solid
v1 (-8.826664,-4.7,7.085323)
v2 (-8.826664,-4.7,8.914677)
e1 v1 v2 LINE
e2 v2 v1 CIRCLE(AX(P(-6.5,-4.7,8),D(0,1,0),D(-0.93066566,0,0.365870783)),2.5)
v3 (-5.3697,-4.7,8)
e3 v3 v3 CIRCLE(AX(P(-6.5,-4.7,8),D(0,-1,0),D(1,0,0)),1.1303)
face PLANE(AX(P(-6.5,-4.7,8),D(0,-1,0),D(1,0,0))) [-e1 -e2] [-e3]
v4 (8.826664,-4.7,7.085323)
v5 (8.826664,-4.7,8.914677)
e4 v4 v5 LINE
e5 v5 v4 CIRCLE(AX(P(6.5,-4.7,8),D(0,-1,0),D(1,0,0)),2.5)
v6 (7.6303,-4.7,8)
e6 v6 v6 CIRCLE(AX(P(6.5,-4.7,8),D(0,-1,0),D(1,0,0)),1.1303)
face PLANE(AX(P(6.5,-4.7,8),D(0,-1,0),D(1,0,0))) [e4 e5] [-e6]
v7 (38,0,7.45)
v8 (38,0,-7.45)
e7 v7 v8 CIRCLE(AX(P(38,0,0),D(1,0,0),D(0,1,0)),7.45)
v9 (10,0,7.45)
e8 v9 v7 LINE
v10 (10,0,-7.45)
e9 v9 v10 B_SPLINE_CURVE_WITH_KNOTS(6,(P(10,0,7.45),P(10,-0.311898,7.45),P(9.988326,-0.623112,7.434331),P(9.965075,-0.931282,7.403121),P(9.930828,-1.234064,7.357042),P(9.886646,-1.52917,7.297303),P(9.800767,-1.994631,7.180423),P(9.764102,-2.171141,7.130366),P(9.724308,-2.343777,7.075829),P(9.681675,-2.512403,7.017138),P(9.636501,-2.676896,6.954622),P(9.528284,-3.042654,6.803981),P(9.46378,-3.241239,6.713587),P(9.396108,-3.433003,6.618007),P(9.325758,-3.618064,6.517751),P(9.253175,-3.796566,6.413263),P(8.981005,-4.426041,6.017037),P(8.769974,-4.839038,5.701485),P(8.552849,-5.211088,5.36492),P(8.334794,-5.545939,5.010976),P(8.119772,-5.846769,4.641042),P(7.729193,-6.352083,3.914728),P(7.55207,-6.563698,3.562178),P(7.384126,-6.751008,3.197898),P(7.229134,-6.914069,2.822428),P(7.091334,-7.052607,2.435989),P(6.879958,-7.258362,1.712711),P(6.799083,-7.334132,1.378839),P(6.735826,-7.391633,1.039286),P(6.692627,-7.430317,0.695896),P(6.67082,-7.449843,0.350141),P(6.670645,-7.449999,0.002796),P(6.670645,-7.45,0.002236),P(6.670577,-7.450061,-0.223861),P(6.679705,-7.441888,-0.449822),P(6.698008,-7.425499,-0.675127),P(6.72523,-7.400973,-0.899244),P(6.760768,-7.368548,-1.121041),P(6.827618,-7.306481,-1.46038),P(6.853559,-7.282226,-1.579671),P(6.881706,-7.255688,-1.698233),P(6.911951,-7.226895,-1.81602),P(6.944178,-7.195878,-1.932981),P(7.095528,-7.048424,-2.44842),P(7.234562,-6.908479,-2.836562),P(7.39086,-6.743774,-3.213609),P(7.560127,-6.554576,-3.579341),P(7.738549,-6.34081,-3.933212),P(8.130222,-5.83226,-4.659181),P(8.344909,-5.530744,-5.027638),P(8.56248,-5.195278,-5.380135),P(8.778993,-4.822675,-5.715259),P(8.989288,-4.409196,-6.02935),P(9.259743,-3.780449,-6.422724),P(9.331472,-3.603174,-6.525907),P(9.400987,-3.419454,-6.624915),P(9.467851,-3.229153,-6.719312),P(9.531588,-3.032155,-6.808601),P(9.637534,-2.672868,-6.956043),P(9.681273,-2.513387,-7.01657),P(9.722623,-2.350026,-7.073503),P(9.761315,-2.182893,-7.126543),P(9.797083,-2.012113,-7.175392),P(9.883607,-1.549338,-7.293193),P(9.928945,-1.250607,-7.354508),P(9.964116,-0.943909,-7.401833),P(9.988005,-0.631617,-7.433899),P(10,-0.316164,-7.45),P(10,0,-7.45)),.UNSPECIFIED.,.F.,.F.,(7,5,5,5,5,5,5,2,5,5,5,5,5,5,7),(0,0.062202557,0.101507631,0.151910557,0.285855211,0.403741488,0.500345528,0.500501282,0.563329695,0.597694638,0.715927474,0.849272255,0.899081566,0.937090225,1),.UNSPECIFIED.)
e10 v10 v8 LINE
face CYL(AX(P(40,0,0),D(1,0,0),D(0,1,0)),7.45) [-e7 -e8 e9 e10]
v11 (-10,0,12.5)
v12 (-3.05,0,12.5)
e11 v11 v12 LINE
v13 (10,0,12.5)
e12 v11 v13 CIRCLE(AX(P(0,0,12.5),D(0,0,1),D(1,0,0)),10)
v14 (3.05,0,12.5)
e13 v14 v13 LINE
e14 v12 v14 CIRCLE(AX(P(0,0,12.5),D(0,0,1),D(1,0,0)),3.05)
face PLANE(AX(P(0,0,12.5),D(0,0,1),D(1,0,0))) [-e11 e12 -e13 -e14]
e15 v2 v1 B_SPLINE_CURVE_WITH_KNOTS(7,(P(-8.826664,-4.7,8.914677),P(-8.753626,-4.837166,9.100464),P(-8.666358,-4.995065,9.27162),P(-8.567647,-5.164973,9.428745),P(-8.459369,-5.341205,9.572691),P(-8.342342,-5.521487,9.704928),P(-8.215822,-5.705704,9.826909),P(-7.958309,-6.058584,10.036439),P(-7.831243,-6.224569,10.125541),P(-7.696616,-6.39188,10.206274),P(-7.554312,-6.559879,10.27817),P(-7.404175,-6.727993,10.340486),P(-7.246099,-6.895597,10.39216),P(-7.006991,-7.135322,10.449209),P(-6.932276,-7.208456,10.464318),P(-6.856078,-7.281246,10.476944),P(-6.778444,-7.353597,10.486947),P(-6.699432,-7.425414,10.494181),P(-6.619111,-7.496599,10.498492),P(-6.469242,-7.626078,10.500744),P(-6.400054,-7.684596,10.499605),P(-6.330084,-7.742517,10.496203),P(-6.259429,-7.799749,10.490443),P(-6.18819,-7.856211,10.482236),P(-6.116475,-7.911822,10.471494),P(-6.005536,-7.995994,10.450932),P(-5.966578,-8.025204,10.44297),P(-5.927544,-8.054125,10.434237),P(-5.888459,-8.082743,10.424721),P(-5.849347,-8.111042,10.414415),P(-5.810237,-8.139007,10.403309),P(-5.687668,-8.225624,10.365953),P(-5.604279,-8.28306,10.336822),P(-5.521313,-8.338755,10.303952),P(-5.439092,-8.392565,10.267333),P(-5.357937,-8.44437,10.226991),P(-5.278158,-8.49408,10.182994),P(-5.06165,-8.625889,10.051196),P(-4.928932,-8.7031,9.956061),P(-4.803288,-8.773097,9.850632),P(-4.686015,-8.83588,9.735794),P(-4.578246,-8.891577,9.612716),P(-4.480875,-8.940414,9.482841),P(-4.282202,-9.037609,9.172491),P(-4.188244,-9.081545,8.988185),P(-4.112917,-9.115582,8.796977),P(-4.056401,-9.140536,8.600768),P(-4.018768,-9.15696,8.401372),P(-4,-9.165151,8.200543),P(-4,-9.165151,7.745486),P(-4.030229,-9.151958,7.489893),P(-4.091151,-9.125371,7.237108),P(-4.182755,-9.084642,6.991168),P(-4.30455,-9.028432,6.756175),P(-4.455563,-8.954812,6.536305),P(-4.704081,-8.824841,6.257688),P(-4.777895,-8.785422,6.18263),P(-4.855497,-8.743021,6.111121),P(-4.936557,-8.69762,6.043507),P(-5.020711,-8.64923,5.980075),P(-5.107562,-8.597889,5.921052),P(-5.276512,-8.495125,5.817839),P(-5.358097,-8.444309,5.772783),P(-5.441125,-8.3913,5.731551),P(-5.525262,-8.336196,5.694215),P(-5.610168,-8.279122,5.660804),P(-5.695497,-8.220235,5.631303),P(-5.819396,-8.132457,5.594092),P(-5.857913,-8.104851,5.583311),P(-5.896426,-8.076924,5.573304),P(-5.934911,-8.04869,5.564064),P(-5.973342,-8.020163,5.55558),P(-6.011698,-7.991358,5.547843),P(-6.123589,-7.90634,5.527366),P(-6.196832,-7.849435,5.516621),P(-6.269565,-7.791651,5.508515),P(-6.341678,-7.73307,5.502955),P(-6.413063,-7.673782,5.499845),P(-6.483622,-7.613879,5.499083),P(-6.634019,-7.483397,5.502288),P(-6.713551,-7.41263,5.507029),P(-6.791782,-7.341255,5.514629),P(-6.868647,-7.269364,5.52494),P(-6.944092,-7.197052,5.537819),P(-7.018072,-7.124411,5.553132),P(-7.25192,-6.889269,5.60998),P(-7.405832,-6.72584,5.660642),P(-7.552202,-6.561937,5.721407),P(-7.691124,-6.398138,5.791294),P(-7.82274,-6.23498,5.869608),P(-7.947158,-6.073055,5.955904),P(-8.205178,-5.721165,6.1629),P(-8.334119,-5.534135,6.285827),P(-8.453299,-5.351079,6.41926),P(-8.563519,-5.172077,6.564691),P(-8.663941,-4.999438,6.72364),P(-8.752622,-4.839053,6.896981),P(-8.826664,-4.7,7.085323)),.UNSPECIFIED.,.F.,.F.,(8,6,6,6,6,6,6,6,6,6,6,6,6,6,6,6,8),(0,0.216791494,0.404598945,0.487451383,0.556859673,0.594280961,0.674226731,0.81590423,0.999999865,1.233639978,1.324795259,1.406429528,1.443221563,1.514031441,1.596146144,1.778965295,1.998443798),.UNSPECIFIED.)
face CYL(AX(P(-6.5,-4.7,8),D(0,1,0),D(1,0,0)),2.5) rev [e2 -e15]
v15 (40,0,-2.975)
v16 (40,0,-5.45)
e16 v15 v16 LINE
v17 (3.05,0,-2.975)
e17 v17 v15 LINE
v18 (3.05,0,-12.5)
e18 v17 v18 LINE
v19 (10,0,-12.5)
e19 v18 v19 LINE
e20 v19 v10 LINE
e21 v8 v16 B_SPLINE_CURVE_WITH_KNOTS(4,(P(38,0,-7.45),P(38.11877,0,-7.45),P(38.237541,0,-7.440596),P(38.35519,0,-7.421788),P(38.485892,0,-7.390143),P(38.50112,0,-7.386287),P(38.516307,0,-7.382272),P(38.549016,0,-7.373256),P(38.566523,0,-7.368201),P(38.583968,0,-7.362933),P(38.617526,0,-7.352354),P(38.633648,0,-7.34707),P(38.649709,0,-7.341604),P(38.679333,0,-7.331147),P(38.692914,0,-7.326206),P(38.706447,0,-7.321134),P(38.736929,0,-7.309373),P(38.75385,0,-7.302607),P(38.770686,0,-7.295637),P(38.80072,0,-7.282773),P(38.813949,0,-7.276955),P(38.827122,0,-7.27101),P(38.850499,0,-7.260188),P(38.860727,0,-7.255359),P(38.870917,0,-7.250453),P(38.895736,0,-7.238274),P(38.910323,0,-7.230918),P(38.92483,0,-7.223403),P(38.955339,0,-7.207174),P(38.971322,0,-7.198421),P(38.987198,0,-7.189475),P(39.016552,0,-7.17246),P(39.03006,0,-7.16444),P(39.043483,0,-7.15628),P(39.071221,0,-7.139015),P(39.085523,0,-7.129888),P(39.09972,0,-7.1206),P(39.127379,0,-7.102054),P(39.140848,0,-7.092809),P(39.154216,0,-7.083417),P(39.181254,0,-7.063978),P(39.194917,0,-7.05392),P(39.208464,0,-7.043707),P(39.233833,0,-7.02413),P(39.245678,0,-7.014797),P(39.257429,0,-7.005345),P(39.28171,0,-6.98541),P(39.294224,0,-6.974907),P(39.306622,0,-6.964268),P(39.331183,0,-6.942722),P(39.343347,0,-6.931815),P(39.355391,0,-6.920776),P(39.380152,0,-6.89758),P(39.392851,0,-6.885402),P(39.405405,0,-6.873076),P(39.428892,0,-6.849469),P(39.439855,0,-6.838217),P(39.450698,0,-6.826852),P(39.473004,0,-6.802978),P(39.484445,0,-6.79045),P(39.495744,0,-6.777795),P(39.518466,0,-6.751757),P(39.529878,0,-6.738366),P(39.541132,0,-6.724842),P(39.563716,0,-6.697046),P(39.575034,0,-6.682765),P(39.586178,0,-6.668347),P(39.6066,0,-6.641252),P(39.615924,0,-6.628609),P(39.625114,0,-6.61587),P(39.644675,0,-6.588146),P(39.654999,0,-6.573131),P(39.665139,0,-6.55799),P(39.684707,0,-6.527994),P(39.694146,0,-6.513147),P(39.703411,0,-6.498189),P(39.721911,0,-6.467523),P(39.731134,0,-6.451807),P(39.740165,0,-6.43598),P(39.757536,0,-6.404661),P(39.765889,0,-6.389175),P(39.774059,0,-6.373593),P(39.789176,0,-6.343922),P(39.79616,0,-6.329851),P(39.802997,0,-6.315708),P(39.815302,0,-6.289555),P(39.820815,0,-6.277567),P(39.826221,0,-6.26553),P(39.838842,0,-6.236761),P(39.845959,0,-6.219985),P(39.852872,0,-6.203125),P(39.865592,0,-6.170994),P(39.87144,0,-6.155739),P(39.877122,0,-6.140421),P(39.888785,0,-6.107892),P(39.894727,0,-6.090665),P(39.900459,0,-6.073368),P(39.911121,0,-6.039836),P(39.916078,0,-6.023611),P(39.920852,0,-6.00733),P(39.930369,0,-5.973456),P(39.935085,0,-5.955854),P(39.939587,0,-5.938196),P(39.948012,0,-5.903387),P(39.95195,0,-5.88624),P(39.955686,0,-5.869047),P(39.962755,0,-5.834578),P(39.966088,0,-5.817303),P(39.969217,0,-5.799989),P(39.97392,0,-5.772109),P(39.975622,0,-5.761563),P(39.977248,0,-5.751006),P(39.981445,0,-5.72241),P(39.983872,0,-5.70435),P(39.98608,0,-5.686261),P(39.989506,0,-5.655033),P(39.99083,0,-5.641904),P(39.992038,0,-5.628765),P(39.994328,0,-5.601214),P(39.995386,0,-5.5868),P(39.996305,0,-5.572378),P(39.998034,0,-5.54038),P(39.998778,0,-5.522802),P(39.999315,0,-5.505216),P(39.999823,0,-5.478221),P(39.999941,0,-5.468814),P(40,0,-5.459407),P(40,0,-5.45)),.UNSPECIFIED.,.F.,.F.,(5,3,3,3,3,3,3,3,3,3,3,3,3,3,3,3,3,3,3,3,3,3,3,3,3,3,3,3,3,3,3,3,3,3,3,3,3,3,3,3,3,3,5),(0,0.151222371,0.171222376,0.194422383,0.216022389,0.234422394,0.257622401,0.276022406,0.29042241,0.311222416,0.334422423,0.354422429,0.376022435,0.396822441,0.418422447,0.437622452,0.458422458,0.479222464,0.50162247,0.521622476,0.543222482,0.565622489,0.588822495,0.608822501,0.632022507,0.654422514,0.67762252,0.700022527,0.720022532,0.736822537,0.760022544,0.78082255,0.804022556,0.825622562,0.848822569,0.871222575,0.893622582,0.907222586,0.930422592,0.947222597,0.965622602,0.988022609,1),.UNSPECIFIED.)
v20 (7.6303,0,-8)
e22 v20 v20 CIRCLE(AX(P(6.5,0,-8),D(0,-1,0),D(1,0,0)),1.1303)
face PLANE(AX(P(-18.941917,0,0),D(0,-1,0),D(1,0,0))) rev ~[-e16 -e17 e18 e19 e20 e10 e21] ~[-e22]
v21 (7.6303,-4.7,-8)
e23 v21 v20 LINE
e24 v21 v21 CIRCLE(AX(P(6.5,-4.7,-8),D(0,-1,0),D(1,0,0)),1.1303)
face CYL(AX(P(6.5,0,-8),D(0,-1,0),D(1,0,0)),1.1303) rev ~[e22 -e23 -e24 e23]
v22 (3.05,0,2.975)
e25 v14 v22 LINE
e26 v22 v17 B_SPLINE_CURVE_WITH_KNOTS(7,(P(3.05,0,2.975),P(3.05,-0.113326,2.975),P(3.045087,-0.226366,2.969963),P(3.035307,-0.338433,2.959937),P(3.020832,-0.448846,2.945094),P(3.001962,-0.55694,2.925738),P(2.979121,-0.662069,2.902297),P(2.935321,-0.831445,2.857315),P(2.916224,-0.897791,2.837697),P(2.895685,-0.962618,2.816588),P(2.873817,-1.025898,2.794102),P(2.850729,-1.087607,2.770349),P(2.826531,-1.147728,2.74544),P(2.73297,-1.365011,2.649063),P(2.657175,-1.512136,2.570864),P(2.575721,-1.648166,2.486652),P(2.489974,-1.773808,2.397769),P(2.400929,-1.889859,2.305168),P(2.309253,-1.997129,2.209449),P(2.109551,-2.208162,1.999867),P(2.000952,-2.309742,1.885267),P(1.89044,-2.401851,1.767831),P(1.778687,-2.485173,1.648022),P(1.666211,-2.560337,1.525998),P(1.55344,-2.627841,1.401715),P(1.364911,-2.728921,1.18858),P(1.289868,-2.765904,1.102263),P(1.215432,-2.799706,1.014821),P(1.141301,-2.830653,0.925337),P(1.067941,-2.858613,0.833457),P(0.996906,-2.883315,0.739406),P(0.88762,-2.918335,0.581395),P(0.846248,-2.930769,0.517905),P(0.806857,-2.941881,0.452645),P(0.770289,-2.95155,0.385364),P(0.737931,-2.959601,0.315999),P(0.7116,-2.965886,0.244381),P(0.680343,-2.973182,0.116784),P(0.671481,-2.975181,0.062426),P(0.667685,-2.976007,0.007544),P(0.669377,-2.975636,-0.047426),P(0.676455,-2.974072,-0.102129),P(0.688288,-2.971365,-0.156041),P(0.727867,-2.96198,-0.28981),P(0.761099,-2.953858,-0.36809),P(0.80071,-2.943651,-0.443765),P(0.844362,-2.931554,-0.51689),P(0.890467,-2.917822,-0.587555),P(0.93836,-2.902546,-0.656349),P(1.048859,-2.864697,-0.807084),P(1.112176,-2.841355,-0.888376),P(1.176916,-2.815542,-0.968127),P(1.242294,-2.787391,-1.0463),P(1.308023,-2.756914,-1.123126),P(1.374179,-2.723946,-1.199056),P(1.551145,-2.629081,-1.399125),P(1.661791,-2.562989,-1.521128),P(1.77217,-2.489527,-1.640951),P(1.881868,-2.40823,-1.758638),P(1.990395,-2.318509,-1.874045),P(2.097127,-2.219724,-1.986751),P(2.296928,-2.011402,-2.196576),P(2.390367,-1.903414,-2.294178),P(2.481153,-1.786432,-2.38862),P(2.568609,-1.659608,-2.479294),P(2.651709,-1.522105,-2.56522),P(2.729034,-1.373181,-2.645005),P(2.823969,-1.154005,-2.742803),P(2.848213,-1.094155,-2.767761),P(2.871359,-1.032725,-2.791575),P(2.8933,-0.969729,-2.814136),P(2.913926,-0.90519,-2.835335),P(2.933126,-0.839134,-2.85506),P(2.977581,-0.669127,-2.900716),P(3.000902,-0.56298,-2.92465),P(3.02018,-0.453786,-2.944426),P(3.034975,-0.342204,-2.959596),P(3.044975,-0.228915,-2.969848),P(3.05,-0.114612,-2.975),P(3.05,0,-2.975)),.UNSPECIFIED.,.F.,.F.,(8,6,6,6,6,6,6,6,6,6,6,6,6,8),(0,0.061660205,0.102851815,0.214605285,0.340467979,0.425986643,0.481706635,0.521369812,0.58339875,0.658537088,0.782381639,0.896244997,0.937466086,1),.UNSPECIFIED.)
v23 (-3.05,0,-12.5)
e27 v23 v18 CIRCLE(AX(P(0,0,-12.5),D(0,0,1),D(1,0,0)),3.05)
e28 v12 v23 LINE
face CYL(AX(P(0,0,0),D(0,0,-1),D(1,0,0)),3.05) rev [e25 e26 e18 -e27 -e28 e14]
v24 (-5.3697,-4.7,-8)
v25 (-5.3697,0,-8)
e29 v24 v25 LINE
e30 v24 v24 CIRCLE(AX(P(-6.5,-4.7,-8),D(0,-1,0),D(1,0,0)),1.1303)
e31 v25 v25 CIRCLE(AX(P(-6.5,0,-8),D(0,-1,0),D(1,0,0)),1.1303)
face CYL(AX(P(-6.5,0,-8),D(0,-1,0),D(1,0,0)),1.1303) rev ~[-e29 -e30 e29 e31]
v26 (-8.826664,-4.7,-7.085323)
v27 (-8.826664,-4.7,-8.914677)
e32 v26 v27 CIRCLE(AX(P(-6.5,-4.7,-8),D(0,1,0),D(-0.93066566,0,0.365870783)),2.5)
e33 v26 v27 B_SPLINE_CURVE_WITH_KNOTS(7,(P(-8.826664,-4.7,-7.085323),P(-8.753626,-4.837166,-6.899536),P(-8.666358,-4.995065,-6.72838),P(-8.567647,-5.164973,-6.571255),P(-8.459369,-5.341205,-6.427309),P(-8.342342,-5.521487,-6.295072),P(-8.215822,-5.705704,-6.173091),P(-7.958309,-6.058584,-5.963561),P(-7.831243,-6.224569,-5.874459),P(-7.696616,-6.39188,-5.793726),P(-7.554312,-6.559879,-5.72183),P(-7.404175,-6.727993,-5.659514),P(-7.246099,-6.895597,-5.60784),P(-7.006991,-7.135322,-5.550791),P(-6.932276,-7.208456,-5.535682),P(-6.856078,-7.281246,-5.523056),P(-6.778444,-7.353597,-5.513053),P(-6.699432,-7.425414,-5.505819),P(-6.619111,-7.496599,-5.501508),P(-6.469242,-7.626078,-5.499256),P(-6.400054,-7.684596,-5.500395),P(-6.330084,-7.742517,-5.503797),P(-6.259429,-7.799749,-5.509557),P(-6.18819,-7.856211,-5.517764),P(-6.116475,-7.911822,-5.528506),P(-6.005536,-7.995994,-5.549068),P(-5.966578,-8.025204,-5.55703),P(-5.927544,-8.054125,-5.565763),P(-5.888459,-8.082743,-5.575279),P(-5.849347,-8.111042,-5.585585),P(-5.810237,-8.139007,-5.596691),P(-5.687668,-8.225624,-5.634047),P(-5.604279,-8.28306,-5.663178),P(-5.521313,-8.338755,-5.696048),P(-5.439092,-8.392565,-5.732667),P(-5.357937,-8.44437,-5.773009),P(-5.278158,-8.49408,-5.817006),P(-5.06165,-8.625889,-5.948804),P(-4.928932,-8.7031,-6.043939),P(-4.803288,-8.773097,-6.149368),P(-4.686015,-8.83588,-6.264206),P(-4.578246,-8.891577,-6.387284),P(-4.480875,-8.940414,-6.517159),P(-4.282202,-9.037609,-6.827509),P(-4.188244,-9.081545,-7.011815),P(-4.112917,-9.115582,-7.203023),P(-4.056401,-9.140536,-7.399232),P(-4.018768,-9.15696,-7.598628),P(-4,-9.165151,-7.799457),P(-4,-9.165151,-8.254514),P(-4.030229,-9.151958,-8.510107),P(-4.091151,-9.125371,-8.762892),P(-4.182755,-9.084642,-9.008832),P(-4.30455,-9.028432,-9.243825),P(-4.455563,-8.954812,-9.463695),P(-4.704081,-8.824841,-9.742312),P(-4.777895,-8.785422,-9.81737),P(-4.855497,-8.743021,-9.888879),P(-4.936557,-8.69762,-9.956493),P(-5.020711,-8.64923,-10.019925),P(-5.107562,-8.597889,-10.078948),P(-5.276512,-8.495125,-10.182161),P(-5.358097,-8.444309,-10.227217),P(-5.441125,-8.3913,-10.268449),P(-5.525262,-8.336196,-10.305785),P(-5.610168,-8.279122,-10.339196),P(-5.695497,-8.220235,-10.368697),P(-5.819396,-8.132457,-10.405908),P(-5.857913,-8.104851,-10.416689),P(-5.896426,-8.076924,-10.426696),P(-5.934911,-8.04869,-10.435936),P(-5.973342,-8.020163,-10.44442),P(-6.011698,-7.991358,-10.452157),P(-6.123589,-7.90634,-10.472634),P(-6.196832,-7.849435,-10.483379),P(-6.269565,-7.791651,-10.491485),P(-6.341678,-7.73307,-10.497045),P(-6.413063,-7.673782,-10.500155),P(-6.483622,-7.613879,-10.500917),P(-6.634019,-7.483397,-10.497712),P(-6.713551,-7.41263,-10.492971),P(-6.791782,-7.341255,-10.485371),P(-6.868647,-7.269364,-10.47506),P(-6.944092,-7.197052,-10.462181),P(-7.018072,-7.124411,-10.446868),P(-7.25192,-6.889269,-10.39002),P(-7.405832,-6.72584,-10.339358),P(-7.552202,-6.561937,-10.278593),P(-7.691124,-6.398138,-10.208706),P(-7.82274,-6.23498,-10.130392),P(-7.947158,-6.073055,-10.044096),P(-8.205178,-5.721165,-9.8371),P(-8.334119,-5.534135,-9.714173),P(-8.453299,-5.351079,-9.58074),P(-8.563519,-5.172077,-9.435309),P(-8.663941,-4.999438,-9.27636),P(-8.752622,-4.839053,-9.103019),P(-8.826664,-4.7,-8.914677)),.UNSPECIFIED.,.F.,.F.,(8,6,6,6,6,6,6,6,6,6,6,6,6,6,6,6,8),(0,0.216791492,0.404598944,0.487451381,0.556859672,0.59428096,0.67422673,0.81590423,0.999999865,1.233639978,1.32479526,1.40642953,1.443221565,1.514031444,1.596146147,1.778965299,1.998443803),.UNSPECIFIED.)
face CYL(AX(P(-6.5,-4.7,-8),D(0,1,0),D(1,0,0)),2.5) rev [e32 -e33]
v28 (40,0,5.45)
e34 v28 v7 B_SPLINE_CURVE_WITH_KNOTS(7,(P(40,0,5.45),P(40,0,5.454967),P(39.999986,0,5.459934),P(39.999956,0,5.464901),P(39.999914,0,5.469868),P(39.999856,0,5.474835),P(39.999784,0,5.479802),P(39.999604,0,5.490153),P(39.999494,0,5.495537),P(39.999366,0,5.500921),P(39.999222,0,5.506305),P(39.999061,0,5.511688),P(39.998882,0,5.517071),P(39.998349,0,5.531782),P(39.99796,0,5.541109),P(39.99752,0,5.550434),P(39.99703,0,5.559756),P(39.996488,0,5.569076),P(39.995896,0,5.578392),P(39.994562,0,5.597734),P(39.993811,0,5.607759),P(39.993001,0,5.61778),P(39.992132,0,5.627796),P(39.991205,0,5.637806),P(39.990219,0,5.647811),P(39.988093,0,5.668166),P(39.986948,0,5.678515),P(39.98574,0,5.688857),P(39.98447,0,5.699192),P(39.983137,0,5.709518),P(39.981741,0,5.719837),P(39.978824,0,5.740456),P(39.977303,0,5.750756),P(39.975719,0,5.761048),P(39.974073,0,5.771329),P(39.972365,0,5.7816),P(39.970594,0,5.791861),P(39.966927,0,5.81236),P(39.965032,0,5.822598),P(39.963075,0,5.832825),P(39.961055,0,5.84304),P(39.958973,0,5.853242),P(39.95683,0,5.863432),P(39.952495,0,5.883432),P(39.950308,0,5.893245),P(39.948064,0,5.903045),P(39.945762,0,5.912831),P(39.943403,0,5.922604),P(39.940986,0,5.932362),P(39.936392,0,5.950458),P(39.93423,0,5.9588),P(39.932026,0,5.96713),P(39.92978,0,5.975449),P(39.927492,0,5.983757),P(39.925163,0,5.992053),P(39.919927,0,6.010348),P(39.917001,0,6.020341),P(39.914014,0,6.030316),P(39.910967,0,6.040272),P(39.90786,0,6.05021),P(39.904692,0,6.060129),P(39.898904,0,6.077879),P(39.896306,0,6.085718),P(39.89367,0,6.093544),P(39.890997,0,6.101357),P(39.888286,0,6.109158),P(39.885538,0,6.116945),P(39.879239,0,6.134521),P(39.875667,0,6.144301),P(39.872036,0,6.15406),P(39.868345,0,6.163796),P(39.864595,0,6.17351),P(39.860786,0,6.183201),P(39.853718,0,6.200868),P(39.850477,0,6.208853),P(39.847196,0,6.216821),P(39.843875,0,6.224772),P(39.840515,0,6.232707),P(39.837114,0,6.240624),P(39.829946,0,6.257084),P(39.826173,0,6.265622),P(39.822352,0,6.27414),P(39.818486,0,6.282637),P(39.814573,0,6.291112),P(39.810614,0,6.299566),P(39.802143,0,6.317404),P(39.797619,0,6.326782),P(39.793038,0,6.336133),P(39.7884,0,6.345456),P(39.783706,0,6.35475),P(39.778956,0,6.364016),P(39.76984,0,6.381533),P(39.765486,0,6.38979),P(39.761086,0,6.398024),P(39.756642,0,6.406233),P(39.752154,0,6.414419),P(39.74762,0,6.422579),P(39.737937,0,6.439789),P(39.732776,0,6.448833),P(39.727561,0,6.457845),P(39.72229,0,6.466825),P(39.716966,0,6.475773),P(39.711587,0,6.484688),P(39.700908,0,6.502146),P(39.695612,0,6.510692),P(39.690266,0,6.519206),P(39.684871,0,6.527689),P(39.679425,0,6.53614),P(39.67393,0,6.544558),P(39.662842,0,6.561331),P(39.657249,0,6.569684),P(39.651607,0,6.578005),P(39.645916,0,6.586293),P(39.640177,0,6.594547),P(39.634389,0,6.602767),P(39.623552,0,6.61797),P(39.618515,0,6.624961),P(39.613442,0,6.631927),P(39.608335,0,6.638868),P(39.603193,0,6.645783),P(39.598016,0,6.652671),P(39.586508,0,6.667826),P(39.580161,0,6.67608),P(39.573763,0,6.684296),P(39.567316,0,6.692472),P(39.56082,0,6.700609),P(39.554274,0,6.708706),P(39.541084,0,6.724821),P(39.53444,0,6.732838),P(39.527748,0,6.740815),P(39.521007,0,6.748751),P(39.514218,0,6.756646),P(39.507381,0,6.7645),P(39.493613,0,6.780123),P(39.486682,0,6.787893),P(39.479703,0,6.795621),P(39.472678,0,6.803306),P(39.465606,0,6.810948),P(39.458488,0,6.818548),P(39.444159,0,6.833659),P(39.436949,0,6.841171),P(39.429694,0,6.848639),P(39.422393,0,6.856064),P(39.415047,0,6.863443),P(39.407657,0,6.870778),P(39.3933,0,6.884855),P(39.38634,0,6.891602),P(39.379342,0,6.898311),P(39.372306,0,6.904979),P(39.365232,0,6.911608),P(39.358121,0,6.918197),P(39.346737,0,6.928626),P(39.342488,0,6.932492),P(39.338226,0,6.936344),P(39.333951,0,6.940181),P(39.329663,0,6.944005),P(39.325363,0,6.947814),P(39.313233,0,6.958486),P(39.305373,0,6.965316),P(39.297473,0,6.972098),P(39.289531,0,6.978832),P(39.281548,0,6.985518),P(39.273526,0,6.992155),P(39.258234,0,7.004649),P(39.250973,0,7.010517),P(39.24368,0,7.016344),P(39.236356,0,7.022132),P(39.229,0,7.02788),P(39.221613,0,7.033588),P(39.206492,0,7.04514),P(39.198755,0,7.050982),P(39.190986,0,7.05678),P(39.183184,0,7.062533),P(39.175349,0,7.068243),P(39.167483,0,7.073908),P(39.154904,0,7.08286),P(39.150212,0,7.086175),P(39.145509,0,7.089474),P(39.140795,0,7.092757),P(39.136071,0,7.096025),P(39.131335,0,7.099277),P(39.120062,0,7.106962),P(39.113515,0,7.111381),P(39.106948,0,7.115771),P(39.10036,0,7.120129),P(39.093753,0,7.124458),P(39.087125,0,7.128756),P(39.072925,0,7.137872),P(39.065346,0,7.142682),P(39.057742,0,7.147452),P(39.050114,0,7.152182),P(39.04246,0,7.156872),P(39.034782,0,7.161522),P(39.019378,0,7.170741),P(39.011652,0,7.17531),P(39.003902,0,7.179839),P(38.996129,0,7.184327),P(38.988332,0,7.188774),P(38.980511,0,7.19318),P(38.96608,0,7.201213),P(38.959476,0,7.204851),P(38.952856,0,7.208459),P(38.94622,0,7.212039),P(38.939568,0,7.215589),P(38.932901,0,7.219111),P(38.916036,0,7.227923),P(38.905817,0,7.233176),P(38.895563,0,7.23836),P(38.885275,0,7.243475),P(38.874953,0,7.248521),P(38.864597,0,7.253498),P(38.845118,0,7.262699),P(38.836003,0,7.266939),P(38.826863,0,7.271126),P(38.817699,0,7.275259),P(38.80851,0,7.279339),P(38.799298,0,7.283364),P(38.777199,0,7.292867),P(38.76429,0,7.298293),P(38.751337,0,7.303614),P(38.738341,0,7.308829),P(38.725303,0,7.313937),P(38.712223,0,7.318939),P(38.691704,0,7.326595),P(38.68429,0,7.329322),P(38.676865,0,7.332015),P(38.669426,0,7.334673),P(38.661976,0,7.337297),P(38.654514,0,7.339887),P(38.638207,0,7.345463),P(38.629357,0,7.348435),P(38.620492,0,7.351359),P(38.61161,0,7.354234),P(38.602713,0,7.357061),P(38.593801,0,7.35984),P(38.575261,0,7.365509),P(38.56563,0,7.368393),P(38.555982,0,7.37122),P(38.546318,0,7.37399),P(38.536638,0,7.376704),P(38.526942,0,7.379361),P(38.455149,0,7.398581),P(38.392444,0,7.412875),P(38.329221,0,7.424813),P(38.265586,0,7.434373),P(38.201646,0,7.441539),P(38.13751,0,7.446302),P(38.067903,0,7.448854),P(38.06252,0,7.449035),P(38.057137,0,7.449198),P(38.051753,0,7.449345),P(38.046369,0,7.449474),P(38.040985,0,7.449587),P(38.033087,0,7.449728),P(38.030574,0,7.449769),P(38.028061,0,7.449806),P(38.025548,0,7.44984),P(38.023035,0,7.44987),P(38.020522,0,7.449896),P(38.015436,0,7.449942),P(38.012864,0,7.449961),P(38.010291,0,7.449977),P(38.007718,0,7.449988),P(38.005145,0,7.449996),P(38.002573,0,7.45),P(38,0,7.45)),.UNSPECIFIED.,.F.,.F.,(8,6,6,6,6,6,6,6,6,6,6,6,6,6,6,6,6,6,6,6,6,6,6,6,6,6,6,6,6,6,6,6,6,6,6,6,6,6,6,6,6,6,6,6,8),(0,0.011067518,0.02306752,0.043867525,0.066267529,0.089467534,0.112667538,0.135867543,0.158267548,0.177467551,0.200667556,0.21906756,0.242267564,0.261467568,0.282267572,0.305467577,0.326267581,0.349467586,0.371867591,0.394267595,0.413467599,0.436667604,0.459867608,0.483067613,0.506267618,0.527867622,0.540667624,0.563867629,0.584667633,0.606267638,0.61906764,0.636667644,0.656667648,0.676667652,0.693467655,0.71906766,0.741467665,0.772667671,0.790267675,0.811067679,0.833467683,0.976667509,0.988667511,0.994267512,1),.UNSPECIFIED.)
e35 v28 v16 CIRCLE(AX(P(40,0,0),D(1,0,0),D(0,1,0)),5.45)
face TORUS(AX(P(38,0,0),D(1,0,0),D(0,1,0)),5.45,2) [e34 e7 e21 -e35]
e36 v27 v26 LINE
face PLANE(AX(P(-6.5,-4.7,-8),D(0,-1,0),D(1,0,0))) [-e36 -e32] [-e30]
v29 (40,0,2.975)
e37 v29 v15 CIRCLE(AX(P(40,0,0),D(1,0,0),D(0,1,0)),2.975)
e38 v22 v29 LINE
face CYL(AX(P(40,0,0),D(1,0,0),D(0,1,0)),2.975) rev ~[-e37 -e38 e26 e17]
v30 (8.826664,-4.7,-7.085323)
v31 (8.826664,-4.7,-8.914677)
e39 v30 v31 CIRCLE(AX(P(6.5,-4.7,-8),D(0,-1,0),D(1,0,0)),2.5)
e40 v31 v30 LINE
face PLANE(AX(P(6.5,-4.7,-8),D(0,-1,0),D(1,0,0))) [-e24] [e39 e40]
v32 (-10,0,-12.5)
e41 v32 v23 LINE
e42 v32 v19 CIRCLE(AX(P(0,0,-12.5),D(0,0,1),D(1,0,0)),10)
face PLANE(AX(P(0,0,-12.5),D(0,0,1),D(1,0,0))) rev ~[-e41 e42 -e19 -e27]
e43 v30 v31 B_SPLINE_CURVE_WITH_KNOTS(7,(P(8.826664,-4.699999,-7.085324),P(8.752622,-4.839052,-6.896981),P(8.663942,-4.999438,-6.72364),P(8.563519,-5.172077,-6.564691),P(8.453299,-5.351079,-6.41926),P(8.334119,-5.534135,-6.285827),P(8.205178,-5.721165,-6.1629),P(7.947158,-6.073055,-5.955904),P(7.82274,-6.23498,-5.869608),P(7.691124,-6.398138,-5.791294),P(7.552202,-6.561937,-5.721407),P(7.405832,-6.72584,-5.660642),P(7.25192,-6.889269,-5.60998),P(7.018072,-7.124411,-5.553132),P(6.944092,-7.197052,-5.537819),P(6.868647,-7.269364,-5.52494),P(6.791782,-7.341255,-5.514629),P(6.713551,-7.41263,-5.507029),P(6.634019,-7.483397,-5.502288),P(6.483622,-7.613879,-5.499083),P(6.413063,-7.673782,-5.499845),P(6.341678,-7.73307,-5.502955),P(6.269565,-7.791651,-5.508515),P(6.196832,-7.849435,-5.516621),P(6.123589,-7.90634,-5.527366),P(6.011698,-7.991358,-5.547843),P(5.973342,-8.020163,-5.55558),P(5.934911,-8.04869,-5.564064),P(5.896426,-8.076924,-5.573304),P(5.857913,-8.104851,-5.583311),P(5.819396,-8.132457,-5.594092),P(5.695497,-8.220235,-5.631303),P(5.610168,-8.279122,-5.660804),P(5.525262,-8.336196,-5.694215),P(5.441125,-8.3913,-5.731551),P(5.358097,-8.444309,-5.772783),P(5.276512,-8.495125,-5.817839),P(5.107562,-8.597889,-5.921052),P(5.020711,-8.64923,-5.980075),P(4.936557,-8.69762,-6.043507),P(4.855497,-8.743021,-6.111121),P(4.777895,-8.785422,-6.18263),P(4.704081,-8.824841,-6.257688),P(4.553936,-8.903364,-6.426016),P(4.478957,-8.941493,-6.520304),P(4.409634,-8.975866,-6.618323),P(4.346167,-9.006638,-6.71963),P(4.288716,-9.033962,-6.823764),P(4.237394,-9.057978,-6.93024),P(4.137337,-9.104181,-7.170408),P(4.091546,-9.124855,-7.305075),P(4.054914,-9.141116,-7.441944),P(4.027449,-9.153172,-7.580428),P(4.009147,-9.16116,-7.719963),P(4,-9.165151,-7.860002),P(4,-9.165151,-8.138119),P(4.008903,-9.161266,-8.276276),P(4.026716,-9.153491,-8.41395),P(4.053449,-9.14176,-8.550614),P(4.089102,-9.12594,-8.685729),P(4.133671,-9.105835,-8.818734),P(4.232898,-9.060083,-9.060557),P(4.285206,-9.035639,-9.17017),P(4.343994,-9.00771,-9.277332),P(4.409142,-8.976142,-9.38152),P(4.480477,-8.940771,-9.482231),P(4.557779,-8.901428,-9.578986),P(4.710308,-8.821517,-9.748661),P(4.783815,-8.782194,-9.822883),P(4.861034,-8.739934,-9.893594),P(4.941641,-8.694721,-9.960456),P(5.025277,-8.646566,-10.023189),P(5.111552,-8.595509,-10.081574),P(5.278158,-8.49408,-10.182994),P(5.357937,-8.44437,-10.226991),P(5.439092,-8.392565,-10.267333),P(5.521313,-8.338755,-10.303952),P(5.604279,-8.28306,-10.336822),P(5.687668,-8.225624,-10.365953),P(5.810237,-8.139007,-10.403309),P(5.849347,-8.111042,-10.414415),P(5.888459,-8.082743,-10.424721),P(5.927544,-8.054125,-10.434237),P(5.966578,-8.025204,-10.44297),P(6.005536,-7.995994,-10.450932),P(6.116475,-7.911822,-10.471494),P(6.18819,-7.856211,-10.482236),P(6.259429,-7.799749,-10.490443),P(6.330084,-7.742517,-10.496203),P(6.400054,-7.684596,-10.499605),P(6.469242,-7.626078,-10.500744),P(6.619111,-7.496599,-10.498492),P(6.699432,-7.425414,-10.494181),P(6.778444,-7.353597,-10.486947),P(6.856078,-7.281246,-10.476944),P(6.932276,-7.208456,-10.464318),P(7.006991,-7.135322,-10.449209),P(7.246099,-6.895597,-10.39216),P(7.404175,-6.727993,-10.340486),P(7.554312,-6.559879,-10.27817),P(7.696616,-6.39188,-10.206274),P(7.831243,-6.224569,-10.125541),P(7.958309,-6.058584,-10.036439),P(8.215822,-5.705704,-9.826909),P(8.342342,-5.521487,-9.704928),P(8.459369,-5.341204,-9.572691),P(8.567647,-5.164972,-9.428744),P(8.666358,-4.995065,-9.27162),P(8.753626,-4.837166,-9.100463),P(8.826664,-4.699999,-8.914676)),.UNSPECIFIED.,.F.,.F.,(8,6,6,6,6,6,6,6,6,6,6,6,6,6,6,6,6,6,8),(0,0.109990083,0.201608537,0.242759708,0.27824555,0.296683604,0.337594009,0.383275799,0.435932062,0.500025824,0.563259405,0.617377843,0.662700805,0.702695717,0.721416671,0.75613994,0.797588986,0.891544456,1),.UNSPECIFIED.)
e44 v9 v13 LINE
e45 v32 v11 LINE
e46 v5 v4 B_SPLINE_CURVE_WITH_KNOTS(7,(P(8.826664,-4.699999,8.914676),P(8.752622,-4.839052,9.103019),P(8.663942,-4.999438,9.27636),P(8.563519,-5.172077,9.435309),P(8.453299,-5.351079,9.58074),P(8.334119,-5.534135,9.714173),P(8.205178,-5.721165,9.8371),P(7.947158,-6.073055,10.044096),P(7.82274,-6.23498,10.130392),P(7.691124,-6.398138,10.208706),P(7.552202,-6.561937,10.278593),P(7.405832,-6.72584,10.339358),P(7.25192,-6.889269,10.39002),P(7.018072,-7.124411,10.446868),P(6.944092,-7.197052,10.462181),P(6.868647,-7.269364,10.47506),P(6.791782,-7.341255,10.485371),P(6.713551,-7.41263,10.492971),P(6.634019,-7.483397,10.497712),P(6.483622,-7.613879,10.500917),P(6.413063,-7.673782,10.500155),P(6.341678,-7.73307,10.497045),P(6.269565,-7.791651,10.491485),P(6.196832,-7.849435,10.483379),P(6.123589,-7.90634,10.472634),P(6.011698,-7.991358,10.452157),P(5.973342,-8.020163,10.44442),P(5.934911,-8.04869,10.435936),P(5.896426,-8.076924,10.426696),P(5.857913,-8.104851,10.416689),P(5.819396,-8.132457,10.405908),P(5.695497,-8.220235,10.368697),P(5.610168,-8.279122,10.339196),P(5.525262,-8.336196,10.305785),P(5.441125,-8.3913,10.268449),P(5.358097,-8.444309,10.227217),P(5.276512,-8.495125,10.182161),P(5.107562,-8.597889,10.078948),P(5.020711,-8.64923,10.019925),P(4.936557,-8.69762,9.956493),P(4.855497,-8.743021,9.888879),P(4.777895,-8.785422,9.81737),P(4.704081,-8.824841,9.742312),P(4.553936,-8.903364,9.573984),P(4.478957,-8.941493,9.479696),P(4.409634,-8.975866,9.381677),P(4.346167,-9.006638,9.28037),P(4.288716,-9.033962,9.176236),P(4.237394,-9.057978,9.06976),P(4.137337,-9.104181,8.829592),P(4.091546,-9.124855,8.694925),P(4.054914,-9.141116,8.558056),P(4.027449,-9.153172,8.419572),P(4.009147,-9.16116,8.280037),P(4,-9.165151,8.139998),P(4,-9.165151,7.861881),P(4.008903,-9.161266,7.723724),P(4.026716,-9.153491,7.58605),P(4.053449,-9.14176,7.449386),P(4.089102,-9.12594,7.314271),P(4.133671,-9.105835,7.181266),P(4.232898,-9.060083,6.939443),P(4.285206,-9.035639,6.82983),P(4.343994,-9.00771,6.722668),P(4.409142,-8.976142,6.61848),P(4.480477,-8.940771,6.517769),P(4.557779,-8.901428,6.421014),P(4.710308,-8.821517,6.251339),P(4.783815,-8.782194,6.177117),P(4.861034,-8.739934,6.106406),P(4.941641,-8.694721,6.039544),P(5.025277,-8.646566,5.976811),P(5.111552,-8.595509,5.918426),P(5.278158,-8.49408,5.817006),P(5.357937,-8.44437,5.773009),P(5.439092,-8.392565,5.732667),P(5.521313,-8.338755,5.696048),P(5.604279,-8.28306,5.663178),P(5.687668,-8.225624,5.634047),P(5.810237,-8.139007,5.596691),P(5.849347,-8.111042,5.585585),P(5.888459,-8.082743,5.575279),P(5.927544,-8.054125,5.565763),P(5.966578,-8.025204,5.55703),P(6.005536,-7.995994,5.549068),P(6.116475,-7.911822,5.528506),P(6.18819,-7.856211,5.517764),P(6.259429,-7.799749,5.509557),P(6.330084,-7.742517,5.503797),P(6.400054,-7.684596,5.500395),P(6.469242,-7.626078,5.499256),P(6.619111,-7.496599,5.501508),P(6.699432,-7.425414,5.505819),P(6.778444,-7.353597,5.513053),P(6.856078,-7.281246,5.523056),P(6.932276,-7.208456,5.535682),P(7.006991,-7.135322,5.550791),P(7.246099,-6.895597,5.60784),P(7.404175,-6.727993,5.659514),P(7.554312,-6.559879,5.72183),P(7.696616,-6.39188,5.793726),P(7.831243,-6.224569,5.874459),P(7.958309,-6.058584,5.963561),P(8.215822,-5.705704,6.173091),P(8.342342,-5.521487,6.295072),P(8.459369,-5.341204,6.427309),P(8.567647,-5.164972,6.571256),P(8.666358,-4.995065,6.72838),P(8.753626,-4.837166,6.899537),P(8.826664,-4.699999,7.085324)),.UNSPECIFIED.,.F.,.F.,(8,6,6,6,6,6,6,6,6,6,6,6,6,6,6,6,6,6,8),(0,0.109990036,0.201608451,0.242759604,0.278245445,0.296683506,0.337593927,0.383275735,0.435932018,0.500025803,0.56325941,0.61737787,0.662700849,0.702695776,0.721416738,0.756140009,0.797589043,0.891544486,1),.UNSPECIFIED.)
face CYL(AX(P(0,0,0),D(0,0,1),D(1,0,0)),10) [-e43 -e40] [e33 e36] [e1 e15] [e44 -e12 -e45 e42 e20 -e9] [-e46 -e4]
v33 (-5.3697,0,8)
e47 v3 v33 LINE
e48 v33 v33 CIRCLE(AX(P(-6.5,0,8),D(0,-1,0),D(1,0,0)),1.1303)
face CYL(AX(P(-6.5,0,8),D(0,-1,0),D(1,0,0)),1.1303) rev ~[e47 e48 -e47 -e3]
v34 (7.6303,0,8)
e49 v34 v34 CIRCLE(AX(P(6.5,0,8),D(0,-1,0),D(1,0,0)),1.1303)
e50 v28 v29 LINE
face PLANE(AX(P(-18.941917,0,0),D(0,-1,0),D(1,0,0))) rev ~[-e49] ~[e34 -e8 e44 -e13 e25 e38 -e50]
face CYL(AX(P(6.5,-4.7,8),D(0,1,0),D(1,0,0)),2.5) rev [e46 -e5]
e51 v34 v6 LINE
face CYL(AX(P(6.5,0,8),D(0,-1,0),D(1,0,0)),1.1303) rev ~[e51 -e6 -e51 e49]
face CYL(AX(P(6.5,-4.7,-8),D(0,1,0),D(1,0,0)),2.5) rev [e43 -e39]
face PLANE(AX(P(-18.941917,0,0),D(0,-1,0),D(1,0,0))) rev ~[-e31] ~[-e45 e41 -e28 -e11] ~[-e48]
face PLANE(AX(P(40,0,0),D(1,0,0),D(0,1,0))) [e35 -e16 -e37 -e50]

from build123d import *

# Parameters (mm, degrees)
F0_R      = 10
F0_R_2    = 3.05
F1_DEPTH  = 12.5
F3_R      = 7.45
F4_DEPTH  = 33.3293554535
F5_R      = 2.975
F6_DEPTH  = 39.3287836491
F7_R      = 2
F8_R      = 1.1303
F9_DEPTH  = 12.5
F11_R     = 2.5
F12_DEPTH = 25
F13_W     = 67.0658163726
F13_H     = 16.5084768087
F14_DEPTH = 12.5


with BuildPart() as f1:
    # F0 (on Top) → F1 (new body, symmetric)
    with BuildSketch(Plane.XY):
        Circle(F0_R)
        Circle(F0_R_2, mode=Mode.SUBTRACT)
    extrude(amount=F1_DEPTH, both=True)

    # F3 (on offset) → F4 (join, through all)
    with BuildSketch(Plane.YZ.offset(40)):
        Circle(F3_R)
    extrude(amount=-F4_DEPTH)

    # F5 (on face) → F6 (cut, through all)
    with BuildSketch(Plane.YZ.offset(40)):
        Circle(F5_R)
    extrude(amount=-F6_DEPTH, mode=Mode.SUBTRACT)

    # F7
    f7_edges = [f1.edges().sort_by_distance(p)[0] for p in [
        (40, -7.45, 0),
    ]]
    fillet(f7_edges, radius=F7_R)

    # F8 (on Front) → F9 (cut, symmetric)
    with BuildSketch(Plane.XZ):
        with Locations((-6.5, -8)):
            Circle(F8_R)
        with Locations((6.5, -8)):
            Circle(F8_R)
        with Locations((-6.5, 8)):
            Circle(F8_R)
        with Locations((6.5, 8)):
            Circle(F8_R)
    extrude(amount=F9_DEPTH, both=True, mode=Mode.SUBTRACT)

    # F11 (on offset) → F12 (cut)
    with BuildSketch(Plane.XZ.offset(4.7)):
        with Locations((-6.5, 8)):
            Circle(F11_R)
        with Locations((6.5, 8)):
            Circle(F11_R)
        with Locations((-6.5, -8)):
            Circle(F11_R)
        with Locations((6.5, -8)):
            Circle(F11_R)
    extrude(amount=F12_DEPTH, mode=Mode.SUBTRACT)

    # F13 (on Top) → F14 (cut, symmetric)
    with BuildSketch(Plane.XY):
        with Locations((14.590991661, 8.2542384043)):
            Rectangle(F13_W, F13_H)
    extrude(amount=F14_DEPTH, both=True, mode=Mode.SUBTRACT)


solid = f1.part
